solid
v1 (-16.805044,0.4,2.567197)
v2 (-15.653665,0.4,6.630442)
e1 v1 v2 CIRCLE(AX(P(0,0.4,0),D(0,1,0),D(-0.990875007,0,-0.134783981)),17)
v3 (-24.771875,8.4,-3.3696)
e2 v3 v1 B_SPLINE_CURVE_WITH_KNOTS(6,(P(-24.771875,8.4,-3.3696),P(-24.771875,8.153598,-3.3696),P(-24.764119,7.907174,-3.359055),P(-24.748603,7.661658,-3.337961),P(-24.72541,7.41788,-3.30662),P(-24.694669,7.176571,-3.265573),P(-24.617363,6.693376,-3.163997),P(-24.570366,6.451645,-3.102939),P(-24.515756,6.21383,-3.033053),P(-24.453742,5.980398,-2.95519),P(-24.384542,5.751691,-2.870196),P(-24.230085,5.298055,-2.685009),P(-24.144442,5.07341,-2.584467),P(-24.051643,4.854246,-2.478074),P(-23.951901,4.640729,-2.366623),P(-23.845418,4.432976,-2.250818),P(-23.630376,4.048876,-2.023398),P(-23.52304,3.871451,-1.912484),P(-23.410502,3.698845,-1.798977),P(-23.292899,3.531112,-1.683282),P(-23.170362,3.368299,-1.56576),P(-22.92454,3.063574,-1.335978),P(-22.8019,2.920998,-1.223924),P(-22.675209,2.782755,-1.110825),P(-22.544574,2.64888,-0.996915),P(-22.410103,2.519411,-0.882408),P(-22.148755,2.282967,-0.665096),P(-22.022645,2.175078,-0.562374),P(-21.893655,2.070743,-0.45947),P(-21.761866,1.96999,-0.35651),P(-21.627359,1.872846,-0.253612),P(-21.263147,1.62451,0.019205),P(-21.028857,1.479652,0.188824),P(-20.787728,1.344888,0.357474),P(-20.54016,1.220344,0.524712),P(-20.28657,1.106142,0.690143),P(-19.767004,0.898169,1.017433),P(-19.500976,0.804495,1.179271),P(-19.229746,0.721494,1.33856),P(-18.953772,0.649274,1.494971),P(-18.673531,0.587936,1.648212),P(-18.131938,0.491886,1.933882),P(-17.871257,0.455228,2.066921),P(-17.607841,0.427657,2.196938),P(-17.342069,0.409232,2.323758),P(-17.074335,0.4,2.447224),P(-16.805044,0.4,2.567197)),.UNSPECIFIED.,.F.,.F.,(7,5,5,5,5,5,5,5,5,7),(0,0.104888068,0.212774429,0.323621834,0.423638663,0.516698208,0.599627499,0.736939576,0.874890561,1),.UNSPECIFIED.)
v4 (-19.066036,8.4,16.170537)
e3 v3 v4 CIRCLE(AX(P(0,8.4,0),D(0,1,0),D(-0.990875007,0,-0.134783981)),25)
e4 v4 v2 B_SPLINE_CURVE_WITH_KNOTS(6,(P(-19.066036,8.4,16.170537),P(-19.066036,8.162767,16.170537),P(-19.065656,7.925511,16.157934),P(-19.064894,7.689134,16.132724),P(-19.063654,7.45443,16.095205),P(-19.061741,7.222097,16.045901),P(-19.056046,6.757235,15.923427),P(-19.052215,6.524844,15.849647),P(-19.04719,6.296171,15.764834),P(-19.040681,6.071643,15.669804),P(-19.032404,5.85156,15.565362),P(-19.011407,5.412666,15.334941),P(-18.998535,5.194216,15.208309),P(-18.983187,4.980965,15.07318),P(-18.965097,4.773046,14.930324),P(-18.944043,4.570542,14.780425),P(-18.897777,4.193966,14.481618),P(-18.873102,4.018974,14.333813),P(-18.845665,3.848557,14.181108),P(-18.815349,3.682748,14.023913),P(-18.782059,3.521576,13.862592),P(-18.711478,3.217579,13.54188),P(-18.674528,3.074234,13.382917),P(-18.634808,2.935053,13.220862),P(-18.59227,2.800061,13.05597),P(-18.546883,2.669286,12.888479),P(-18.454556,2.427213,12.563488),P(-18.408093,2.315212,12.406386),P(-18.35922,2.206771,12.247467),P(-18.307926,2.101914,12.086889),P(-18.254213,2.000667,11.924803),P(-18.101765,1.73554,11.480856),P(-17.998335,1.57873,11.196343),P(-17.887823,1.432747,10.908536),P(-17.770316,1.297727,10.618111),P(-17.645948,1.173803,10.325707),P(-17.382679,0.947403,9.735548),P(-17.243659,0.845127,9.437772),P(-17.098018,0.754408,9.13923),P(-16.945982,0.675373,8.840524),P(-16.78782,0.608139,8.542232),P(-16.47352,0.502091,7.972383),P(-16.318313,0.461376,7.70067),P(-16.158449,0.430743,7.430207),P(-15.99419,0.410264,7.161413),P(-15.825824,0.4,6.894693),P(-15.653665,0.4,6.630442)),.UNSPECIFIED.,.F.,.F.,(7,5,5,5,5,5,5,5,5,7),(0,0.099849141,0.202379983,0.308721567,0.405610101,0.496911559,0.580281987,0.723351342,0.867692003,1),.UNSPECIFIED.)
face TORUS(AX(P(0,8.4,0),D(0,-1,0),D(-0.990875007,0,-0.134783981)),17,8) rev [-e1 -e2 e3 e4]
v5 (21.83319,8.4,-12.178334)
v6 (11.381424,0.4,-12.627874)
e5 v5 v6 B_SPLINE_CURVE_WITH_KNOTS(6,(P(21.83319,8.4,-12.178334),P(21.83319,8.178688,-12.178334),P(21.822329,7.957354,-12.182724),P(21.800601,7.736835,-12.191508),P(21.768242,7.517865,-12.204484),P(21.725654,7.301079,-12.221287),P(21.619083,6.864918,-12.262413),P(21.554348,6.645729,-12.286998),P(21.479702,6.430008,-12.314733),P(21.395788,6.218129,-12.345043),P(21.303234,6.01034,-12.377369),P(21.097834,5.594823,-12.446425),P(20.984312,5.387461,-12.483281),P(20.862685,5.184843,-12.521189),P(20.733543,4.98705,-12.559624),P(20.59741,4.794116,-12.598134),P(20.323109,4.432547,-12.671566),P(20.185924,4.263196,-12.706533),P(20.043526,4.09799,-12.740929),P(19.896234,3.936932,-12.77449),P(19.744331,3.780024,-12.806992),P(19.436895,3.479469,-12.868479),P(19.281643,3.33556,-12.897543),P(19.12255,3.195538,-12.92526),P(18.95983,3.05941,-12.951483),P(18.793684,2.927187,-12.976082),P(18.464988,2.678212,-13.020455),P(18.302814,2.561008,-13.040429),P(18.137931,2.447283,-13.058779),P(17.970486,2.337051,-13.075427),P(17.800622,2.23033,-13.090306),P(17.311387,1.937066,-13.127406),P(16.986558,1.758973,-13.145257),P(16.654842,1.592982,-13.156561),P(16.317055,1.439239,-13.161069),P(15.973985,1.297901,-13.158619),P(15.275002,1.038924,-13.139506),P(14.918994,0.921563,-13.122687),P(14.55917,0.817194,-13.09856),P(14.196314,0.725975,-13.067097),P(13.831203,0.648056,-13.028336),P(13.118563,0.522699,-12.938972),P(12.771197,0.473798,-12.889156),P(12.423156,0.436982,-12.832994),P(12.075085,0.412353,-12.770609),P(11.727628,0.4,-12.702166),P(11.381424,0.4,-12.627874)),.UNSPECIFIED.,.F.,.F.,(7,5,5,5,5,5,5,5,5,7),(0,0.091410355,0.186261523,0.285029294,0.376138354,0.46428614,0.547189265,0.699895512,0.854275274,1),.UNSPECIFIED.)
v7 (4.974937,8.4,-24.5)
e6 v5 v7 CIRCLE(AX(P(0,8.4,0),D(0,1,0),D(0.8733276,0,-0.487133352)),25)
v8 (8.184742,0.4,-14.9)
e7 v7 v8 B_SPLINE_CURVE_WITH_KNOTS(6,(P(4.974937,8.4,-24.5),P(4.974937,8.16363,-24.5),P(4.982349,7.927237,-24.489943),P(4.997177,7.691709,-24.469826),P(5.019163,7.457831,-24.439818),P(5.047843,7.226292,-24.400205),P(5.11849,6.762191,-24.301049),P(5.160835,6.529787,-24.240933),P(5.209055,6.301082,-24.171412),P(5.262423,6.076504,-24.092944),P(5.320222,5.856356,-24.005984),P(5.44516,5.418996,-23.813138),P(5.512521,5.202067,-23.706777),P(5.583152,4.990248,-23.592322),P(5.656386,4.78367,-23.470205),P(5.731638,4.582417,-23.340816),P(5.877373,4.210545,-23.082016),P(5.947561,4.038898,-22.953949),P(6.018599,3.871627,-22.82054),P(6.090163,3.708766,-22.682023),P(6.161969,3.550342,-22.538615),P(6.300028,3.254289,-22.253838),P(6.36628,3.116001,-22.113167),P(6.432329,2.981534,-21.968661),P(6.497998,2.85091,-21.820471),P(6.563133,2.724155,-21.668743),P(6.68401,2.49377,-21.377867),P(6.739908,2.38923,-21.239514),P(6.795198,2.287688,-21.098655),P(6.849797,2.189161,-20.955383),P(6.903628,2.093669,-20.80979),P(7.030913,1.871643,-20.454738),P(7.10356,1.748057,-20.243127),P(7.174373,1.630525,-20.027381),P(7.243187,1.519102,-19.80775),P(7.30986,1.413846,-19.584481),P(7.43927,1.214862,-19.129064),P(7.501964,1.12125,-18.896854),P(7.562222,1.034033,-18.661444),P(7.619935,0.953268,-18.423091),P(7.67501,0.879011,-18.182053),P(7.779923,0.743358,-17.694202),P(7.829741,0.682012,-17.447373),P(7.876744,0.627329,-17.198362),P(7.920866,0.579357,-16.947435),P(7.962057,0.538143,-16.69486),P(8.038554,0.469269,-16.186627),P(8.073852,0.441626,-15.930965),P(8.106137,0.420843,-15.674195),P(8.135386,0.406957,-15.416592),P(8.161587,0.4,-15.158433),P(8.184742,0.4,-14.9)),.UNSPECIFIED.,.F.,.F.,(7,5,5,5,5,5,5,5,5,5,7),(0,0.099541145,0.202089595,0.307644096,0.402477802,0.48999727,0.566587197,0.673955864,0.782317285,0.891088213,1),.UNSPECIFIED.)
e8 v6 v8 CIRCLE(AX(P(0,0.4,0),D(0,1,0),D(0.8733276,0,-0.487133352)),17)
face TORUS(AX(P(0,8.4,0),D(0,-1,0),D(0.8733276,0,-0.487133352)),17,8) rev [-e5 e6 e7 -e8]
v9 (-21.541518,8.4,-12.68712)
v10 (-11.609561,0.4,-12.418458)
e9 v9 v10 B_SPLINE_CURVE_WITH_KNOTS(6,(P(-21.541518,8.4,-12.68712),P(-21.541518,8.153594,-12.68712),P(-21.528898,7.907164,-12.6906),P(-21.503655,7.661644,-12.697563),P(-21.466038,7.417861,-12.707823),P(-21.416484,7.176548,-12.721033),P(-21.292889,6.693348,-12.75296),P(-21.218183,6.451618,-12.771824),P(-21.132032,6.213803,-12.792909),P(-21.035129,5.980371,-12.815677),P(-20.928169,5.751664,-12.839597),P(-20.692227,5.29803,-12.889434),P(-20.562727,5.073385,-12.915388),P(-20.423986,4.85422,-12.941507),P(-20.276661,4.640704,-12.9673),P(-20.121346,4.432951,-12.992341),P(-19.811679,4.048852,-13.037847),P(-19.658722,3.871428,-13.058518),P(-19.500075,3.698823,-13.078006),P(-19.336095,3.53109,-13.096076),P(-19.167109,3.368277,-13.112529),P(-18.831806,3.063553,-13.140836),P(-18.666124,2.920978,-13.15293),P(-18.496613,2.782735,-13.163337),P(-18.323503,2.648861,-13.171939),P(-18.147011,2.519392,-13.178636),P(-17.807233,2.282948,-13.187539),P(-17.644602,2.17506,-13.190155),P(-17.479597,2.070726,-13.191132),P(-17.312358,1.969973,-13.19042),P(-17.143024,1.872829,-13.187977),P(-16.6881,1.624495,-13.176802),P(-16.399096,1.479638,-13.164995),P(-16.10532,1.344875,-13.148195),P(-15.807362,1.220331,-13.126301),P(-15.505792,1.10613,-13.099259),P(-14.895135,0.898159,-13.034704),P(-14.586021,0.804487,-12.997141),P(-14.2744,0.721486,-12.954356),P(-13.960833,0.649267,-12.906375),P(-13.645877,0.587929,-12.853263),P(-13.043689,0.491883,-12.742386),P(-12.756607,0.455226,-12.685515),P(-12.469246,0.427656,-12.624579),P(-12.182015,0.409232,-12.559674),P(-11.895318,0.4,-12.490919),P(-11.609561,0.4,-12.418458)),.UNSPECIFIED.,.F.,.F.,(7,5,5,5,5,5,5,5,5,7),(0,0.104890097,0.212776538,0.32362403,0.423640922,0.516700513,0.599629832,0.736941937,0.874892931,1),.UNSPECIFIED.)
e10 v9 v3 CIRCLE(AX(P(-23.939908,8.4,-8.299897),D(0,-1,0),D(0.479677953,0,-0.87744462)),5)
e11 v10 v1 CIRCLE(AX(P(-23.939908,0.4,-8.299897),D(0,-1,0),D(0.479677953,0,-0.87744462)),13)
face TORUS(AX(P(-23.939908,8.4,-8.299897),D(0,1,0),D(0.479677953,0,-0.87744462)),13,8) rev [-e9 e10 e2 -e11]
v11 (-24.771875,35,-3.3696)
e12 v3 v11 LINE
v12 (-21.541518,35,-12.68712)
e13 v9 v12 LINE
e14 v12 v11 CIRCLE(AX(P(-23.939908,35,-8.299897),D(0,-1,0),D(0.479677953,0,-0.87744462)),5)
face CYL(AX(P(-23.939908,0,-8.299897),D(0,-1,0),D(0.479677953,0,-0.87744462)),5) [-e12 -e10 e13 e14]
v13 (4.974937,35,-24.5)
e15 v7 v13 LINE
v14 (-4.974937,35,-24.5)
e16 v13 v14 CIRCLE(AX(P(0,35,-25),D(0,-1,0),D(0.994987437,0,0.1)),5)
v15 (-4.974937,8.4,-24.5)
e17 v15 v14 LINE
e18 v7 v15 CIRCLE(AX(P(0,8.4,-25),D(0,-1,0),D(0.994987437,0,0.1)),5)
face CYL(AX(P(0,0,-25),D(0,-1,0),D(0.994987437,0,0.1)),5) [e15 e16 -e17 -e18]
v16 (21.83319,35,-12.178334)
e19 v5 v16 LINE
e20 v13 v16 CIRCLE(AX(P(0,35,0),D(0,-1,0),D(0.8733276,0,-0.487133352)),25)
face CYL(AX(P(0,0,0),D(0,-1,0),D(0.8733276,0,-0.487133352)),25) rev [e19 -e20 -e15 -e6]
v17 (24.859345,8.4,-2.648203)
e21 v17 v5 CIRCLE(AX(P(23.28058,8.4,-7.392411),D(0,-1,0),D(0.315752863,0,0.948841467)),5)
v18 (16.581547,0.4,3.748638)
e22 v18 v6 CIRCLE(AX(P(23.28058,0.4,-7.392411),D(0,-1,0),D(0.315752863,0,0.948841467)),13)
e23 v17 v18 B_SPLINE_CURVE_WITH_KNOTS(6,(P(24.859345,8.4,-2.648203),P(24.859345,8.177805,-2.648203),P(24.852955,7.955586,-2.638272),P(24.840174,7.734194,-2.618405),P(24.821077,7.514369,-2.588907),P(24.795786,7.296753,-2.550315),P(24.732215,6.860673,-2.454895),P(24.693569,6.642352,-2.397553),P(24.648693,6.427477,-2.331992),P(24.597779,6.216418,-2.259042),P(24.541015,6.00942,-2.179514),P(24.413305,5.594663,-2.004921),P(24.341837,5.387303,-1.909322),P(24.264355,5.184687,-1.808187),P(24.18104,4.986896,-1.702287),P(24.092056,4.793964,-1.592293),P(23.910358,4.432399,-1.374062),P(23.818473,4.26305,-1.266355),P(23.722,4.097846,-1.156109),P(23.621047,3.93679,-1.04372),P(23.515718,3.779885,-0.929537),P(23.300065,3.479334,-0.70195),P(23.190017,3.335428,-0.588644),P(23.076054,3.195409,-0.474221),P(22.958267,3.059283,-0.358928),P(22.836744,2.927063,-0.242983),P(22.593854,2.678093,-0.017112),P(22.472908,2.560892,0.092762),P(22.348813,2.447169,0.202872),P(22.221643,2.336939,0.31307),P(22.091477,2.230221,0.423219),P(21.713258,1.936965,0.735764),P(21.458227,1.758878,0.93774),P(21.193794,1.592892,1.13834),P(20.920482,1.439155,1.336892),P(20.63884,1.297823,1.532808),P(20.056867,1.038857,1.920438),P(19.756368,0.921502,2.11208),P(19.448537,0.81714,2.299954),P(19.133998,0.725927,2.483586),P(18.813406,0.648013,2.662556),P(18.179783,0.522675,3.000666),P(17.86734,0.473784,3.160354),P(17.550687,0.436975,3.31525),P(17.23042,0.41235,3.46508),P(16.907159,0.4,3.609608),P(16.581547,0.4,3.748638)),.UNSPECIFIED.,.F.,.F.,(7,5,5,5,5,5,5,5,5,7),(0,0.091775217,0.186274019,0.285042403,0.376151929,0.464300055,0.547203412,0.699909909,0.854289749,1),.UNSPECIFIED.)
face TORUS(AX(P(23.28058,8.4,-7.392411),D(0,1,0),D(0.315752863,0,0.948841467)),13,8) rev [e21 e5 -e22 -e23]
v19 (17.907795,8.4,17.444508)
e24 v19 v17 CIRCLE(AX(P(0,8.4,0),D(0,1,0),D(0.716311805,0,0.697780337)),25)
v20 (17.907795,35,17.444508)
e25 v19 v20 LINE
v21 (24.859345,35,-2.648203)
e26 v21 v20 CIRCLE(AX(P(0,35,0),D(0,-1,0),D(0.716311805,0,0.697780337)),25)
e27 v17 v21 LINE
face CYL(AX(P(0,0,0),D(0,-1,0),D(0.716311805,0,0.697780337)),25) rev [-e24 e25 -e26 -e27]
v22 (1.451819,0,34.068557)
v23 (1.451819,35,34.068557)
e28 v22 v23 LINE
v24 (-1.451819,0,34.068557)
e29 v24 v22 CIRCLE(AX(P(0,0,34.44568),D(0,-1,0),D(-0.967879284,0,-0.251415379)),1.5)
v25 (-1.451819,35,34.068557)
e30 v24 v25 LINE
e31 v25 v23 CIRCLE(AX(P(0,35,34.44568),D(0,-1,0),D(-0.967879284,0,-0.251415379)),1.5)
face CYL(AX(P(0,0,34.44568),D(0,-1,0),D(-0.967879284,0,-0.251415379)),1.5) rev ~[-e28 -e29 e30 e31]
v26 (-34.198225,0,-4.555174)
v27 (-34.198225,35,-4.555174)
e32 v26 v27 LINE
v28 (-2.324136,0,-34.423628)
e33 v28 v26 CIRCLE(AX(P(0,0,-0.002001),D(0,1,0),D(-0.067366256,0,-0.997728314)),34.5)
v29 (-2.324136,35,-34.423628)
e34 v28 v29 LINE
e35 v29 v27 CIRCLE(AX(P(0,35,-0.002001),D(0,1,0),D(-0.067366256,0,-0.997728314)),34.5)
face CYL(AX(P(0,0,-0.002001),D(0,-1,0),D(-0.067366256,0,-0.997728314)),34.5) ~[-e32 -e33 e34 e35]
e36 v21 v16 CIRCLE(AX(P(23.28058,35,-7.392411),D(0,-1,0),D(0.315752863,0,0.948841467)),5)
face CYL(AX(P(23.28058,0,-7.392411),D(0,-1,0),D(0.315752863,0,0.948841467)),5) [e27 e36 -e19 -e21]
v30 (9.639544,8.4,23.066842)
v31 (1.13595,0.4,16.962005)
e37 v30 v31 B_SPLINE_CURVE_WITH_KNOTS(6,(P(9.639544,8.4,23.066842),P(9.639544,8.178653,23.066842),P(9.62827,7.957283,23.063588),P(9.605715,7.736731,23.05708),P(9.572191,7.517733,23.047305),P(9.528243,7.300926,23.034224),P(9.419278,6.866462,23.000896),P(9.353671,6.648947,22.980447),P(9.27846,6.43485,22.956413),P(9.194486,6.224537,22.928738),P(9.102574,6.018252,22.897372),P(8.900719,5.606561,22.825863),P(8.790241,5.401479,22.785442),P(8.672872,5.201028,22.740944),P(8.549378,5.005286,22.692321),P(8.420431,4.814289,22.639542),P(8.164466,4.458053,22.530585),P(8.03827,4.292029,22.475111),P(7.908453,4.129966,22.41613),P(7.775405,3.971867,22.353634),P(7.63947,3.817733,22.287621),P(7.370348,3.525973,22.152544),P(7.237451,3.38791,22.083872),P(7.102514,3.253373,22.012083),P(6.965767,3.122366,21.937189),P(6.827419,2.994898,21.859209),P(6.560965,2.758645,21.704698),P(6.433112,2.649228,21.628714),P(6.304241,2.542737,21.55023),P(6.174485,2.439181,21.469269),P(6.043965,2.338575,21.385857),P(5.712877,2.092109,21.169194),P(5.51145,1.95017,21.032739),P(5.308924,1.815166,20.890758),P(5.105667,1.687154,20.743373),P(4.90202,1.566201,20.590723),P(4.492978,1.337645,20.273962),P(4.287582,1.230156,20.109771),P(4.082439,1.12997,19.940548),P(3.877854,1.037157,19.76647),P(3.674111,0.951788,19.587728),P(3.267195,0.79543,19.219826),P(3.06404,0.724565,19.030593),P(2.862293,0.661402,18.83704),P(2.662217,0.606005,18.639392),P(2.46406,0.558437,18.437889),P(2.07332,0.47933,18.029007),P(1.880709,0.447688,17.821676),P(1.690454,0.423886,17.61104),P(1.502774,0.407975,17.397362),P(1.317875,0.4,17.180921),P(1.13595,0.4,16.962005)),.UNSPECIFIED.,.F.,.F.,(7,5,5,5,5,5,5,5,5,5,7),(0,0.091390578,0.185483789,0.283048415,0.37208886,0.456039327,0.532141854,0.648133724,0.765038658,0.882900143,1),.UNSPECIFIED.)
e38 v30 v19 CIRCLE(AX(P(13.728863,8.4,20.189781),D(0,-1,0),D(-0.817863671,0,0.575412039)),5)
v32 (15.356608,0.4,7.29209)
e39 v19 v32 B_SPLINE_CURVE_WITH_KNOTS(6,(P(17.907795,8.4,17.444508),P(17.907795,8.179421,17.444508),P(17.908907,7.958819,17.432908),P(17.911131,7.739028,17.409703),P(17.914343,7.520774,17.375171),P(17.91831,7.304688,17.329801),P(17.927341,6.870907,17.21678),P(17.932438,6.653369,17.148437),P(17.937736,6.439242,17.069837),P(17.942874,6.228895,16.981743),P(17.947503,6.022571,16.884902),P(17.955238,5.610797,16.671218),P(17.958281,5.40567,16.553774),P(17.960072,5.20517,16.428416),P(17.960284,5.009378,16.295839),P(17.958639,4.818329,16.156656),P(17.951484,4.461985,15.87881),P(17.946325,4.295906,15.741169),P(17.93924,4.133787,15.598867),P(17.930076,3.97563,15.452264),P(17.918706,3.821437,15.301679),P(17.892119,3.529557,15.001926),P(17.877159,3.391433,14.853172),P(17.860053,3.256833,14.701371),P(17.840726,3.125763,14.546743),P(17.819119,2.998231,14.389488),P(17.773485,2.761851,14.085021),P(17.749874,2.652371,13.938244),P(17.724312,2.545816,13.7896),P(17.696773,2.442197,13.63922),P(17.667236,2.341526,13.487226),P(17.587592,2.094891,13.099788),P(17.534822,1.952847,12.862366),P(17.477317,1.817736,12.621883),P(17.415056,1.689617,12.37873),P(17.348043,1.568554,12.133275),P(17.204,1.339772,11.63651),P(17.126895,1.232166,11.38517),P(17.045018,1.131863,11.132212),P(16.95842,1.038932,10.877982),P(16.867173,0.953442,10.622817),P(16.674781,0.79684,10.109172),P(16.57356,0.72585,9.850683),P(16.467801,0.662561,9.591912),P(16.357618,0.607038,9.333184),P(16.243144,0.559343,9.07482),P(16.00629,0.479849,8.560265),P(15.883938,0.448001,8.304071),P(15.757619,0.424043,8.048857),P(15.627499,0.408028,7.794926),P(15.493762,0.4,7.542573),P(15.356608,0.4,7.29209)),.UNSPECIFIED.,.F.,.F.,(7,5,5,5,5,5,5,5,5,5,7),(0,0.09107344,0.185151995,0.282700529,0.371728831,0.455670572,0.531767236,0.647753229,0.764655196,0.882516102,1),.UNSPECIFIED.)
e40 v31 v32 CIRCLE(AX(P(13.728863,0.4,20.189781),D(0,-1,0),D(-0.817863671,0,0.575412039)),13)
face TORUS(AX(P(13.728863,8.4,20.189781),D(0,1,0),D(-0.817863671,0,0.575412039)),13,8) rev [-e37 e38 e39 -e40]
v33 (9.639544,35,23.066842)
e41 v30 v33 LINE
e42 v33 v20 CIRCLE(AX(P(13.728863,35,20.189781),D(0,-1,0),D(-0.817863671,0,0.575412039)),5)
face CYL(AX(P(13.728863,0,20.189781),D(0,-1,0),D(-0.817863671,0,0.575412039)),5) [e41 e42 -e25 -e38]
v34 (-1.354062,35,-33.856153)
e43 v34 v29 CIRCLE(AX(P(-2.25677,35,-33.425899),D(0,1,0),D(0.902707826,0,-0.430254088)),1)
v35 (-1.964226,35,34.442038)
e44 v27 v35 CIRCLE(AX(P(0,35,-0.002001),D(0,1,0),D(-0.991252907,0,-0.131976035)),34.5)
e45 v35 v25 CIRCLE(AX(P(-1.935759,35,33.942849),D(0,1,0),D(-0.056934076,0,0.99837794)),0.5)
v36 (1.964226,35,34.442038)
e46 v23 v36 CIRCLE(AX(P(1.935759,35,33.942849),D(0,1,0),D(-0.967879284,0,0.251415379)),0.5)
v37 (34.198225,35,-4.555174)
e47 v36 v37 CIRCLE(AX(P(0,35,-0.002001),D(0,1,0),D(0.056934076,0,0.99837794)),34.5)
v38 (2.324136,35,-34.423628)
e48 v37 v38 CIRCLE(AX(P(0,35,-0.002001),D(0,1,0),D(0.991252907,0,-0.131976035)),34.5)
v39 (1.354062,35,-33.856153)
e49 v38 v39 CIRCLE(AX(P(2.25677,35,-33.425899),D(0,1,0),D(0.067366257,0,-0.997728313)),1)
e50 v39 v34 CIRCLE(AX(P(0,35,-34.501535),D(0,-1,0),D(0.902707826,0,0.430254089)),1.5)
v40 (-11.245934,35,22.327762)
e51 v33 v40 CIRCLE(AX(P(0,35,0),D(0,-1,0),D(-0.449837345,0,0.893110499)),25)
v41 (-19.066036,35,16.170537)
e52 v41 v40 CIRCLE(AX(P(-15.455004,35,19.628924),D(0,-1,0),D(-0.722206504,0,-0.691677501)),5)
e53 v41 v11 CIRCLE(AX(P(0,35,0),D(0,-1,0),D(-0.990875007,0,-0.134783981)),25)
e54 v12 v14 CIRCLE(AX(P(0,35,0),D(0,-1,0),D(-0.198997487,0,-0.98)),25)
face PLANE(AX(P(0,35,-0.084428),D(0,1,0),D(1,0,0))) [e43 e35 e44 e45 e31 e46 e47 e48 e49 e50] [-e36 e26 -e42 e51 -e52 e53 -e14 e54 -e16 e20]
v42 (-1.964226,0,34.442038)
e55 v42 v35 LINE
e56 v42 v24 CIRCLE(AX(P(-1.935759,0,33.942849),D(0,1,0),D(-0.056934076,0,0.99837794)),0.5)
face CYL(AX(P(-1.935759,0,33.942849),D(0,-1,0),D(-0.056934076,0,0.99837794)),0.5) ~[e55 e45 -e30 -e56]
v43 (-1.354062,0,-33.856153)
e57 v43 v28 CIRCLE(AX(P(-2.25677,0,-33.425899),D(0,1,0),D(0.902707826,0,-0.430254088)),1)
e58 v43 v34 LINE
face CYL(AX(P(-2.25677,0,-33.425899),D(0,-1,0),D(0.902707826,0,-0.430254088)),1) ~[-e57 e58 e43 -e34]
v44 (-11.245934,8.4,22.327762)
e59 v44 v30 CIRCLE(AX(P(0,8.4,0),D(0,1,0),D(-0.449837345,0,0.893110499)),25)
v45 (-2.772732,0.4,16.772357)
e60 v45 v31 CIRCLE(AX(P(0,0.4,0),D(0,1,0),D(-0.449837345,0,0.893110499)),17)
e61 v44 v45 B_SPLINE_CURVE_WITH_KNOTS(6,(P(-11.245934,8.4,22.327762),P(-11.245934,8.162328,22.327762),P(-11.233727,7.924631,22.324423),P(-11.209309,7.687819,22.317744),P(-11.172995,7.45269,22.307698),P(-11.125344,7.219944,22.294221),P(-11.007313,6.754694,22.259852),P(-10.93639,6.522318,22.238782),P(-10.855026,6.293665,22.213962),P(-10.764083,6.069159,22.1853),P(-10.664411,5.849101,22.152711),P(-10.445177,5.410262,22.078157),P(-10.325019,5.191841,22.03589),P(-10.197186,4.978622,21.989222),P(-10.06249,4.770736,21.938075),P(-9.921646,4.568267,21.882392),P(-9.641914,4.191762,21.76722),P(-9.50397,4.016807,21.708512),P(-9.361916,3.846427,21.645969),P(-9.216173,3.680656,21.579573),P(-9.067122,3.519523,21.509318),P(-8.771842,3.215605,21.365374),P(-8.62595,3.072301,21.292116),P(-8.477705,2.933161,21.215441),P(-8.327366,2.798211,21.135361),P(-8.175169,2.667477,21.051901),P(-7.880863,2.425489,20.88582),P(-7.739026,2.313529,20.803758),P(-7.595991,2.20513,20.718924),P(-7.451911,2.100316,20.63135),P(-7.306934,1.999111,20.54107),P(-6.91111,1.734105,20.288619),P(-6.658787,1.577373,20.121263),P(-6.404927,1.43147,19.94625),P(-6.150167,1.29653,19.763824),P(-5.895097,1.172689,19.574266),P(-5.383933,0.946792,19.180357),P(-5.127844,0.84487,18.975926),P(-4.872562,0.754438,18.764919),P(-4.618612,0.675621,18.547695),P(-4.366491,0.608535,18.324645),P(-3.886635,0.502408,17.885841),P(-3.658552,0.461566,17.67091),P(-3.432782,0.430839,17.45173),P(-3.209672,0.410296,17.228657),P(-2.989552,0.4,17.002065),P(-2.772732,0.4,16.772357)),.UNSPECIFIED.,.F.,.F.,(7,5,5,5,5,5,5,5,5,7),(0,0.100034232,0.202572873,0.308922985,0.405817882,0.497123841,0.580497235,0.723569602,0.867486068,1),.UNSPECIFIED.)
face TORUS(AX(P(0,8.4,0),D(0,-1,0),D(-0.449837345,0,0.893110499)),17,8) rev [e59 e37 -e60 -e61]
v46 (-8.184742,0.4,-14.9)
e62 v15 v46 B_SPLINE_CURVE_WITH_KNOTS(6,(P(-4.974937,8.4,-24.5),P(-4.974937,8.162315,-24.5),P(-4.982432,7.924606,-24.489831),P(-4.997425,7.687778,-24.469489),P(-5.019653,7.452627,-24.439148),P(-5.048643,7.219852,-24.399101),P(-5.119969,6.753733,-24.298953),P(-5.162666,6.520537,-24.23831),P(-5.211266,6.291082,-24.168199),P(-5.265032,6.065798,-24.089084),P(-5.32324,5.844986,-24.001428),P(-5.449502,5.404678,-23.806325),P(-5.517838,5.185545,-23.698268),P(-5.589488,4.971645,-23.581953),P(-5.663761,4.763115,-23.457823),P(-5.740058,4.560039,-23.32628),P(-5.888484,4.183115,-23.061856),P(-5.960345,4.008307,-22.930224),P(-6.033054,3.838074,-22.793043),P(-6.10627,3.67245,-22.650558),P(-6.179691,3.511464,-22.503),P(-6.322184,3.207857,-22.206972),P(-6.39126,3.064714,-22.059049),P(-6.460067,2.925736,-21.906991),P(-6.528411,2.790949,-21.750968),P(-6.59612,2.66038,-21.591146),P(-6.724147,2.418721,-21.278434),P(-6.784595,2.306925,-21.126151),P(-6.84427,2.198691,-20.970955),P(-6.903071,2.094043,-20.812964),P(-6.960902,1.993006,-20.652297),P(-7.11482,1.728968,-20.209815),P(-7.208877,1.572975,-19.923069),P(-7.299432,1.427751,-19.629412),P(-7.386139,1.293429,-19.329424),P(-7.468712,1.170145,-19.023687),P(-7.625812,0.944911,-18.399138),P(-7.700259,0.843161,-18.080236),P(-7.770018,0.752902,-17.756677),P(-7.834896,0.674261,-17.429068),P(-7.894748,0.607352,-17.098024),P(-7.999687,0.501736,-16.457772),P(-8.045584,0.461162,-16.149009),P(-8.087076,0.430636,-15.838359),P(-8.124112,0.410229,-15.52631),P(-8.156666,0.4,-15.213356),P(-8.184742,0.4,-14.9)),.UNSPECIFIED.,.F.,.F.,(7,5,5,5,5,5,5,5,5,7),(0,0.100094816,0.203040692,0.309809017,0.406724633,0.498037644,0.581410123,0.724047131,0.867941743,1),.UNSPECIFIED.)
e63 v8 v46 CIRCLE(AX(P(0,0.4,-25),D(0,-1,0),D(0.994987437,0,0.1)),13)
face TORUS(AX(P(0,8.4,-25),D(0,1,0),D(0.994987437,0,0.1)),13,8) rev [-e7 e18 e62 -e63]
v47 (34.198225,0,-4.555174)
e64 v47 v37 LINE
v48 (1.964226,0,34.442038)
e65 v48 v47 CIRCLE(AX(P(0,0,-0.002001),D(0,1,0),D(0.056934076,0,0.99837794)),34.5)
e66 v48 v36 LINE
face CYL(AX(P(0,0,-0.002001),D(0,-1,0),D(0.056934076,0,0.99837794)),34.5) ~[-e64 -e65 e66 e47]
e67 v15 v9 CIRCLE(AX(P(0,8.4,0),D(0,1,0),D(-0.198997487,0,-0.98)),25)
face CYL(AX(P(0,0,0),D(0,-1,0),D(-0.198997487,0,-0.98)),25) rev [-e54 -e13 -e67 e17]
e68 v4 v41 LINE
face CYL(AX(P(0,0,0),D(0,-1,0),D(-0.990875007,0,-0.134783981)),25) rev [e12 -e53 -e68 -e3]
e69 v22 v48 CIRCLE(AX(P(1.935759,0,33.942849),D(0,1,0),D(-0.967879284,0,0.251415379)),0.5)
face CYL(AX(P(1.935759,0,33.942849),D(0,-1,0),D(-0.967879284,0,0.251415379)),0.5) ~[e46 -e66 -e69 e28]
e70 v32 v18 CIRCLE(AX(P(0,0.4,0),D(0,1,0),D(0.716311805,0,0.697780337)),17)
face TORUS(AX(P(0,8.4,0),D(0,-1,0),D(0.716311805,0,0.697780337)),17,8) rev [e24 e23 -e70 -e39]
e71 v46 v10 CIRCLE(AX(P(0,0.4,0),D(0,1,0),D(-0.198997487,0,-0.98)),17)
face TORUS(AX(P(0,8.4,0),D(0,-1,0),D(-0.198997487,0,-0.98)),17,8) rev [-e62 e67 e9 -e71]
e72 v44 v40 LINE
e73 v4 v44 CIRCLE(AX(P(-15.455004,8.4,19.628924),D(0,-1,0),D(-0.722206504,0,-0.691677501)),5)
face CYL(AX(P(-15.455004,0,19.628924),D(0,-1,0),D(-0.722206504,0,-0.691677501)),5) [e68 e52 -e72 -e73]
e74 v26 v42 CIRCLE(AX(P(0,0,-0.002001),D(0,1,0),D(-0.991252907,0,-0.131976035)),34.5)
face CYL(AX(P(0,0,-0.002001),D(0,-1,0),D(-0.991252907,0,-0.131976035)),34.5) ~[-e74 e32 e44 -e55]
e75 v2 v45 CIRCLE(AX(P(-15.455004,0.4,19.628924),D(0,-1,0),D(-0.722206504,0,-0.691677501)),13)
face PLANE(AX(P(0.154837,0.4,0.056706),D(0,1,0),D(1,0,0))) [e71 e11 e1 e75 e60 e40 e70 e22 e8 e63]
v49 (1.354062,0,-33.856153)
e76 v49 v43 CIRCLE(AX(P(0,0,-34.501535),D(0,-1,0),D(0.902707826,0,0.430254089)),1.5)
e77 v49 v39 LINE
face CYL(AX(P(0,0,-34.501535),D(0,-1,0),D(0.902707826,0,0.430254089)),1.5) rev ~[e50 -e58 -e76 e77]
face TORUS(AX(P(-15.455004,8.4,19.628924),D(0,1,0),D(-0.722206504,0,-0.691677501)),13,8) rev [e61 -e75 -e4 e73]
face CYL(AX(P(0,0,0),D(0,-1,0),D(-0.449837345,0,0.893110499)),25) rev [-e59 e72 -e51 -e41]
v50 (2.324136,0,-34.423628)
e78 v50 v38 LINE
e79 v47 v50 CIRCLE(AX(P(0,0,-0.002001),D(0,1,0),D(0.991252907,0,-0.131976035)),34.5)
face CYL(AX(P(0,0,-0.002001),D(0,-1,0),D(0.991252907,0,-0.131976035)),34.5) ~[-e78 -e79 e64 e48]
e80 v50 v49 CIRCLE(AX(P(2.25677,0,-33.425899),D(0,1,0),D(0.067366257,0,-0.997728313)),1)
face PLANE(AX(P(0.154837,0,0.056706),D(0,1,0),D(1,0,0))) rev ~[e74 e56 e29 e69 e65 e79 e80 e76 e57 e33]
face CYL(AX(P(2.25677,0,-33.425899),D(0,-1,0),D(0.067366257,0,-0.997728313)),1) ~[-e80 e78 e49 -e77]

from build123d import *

# Parameters (mm, degrees)
BOSS_EXTRUDE1_DEPTH = 35
CUT_EXTRUDE2_DEPTH  = 36
BOSS_EXTRUDE2_DEPTH = 0.4
FILLET1_R           = 8


with BuildPart() as part:
    # Sketch1 → Boss-Extrude1 (new body)
    with BuildSketch(Plane(origin=(0, 0, 0), x_dir=(1, 0, 0), z_dir=(0, 1, 0))):
        with BuildLine():
            ThreePointArc((1.451818925, -34.068556857), (1.641248992, -34.346908706), (1.964225605, -34.442038138))
            ThreePointArc((1.964225605, -34.442038138), (26.591847487, -21.978073076), (34.198225299, 4.555174015))
            ThreePointArc((34.198225299, 4.555174015), (23.590291339, 25.176355888), (2.324135821, 34.423627607))
            ThreePointArc((2.324135821, 34.423627607), (1.751838249, 34.289058819), (1.354061739, 33.856153382))
            ThreePointArc((1.354061739, 33.856153382), (0, 33.001534515), (-1.354061739, 33.856153382))
            ThreePointArc((-1.354061739, 33.856153382), (-1.751838249, 34.289058819), (-2.324135821, 34.423627607))
            ThreePointArc((-2.324135821, 34.423627607), (-23.590291339, 25.176355888), (-34.198225299, 4.555174015))
            ThreePointArc((-34.198225299, 4.555174015), (-26.591847487, -21.978073076), (-1.964225605, -34.442038138))
            ThreePointArc((-1.964225605, -34.442038138), (-1.641248992, -34.346908706), (-1.451818925, -34.068556857))
            ThreePointArc((-1.451818925, -34.068556857), (0, -32.945679925), (1.451818925, -34.068556857))
        make_face()
        with BuildLine():
            Line((-2.417, 3.787737139), (0, 3.787737139))
            Line((0, 3.787737139), (2.417, 3.787737139))
            ThreePointArc((2.417, 3.787737139), (0, -4.489512172), (-2.417, 3.787737139))
        make_face(mode=Mode.SUBTRACT)
    extrude(amount=BOSS_EXTRUDE1_DEPTH)

    # Sketch2 → Cut-Extrude2 (cut, through all)
    with BuildSketch(Plane(origin=(0, 0, 0), x_dir=(1, 0, 0), z_dir=(0, 1, 0))):
        with BuildLine():
            ThreePointArc((-24.771875163, 3.369599515), (-23.997809329, -7.007506505), (-19.066036357, -16.170536714))
            ThreePointArc((-19.066036357, -16.170536714), (-12.361903527, -15.700472812), (-11.245933621, -22.327762472))
            ThreePointArc((-11.245933621, -22.327762472), (-0.884127319, -24.984361486), (9.639544373, -23.066841662))
            ThreePointArc((9.639544373, -23.066841662), (10.917339043, -16.055130989), (17.907795118, -17.44450842))
            ThreePointArc((17.907795118, -17.44450842), (23.625967237, -8.17396306), (24.859344713, 2.64820325))
            ThreePointArc((24.859344713, 2.64820325), (18.515062391, 5.879189473), (21.833190005, 12.178333803))
            ThreePointArc((21.833190005, 12.178333803), (14.752111216, 20.18353821), (4.974937186, 24.5))
            ThreePointArc((4.974937186, 24.5), (0, 20), (-4.974937186, 24.5))
            ThreePointArc((-4.974937186, 24.5), (-14.514359509, 20.355180374), (-21.541517866, 12.687119769))
            ThreePointArc((-21.541517866, 12.687119769), (-19.215771141, 6.662052225), (-24.771875163, 3.369599515))
        make_face()
    extrude(amount=CUT_EXTRUDE2_DEPTH, mode=Mode.SUBTRACT)

    # Sketch2<2> → Boss-Extrude2 (add)
    with BuildSketch(Plane(origin=(0, 0, 0), x_dir=(1, 0, 0), z_dir=(0, 1, 0))):
        with BuildLine():
            ThreePointArc((-24.771875163, 3.369599515), (-23.997809329, -7.007506505), (-19.066036357, -16.170536714))
            ThreePointArc((-19.066036357, -16.170536714), (-12.361903527, -15.700472812), (-11.245933621, -22.327762472))
            ThreePointArc((-11.245933621, -22.327762472), (-0.884127319, -24.984361486), (9.639544373, -23.066841662))
            ThreePointArc((9.639544373, -23.066841662), (10.917339043, -16.055130989), (17.907795118, -17.44450842))
            ThreePointArc((17.907795118, -17.44450842), (23.625967237, -8.17396306), (24.859344713, 2.64820325))
            ThreePointArc((24.859344713, 2.64820325), (18.515062391, 5.879189473), (21.833190005, 12.178333803))
            ThreePointArc((21.833190005, 12.178333803), (14.752111216, 20.18353821), (4.974937186, 24.5))
            ThreePointArc((4.974937186, 24.5), (0, 20), (-4.974937186, 24.5))
            ThreePointArc((-4.974937186, 24.5), (-14.514359509, 20.355180374), (-21.541517866, 12.687119769))
            ThreePointArc((-21.541517866, 12.687119769), (-19.215771141, 6.662052225), (-24.771875163, 3.369599515))
        make_face()
    extrude(amount=BOSS_EXTRUDE2_DEPTH)

    # Fillet1
    fillet1_edges = [part.edges().sort_by_distance(p)[0] for p in [
        (14.752111216, 0.4, -20.18353821),
        (0, 0.4, -20),
        (-14.514359509, 0.4, -20.355180374),
        (-19.215771141, 0.4, -6.662052225),
        (-23.997809329, 0.4, 7.007506505),
        (-12.361903527, 0.4, 15.700472812),
        (-0.884127319, 0.4, 24.984361486),
        (10.917339043, 0.4, 16.055130989),
        (23.625967237, 0.4, 8.17396306),
        (18.515062391, 0.4, -5.879189473),
    ]]
    fillet(fillet1_edges, radius=FILLET1_R)


solid = part.part
